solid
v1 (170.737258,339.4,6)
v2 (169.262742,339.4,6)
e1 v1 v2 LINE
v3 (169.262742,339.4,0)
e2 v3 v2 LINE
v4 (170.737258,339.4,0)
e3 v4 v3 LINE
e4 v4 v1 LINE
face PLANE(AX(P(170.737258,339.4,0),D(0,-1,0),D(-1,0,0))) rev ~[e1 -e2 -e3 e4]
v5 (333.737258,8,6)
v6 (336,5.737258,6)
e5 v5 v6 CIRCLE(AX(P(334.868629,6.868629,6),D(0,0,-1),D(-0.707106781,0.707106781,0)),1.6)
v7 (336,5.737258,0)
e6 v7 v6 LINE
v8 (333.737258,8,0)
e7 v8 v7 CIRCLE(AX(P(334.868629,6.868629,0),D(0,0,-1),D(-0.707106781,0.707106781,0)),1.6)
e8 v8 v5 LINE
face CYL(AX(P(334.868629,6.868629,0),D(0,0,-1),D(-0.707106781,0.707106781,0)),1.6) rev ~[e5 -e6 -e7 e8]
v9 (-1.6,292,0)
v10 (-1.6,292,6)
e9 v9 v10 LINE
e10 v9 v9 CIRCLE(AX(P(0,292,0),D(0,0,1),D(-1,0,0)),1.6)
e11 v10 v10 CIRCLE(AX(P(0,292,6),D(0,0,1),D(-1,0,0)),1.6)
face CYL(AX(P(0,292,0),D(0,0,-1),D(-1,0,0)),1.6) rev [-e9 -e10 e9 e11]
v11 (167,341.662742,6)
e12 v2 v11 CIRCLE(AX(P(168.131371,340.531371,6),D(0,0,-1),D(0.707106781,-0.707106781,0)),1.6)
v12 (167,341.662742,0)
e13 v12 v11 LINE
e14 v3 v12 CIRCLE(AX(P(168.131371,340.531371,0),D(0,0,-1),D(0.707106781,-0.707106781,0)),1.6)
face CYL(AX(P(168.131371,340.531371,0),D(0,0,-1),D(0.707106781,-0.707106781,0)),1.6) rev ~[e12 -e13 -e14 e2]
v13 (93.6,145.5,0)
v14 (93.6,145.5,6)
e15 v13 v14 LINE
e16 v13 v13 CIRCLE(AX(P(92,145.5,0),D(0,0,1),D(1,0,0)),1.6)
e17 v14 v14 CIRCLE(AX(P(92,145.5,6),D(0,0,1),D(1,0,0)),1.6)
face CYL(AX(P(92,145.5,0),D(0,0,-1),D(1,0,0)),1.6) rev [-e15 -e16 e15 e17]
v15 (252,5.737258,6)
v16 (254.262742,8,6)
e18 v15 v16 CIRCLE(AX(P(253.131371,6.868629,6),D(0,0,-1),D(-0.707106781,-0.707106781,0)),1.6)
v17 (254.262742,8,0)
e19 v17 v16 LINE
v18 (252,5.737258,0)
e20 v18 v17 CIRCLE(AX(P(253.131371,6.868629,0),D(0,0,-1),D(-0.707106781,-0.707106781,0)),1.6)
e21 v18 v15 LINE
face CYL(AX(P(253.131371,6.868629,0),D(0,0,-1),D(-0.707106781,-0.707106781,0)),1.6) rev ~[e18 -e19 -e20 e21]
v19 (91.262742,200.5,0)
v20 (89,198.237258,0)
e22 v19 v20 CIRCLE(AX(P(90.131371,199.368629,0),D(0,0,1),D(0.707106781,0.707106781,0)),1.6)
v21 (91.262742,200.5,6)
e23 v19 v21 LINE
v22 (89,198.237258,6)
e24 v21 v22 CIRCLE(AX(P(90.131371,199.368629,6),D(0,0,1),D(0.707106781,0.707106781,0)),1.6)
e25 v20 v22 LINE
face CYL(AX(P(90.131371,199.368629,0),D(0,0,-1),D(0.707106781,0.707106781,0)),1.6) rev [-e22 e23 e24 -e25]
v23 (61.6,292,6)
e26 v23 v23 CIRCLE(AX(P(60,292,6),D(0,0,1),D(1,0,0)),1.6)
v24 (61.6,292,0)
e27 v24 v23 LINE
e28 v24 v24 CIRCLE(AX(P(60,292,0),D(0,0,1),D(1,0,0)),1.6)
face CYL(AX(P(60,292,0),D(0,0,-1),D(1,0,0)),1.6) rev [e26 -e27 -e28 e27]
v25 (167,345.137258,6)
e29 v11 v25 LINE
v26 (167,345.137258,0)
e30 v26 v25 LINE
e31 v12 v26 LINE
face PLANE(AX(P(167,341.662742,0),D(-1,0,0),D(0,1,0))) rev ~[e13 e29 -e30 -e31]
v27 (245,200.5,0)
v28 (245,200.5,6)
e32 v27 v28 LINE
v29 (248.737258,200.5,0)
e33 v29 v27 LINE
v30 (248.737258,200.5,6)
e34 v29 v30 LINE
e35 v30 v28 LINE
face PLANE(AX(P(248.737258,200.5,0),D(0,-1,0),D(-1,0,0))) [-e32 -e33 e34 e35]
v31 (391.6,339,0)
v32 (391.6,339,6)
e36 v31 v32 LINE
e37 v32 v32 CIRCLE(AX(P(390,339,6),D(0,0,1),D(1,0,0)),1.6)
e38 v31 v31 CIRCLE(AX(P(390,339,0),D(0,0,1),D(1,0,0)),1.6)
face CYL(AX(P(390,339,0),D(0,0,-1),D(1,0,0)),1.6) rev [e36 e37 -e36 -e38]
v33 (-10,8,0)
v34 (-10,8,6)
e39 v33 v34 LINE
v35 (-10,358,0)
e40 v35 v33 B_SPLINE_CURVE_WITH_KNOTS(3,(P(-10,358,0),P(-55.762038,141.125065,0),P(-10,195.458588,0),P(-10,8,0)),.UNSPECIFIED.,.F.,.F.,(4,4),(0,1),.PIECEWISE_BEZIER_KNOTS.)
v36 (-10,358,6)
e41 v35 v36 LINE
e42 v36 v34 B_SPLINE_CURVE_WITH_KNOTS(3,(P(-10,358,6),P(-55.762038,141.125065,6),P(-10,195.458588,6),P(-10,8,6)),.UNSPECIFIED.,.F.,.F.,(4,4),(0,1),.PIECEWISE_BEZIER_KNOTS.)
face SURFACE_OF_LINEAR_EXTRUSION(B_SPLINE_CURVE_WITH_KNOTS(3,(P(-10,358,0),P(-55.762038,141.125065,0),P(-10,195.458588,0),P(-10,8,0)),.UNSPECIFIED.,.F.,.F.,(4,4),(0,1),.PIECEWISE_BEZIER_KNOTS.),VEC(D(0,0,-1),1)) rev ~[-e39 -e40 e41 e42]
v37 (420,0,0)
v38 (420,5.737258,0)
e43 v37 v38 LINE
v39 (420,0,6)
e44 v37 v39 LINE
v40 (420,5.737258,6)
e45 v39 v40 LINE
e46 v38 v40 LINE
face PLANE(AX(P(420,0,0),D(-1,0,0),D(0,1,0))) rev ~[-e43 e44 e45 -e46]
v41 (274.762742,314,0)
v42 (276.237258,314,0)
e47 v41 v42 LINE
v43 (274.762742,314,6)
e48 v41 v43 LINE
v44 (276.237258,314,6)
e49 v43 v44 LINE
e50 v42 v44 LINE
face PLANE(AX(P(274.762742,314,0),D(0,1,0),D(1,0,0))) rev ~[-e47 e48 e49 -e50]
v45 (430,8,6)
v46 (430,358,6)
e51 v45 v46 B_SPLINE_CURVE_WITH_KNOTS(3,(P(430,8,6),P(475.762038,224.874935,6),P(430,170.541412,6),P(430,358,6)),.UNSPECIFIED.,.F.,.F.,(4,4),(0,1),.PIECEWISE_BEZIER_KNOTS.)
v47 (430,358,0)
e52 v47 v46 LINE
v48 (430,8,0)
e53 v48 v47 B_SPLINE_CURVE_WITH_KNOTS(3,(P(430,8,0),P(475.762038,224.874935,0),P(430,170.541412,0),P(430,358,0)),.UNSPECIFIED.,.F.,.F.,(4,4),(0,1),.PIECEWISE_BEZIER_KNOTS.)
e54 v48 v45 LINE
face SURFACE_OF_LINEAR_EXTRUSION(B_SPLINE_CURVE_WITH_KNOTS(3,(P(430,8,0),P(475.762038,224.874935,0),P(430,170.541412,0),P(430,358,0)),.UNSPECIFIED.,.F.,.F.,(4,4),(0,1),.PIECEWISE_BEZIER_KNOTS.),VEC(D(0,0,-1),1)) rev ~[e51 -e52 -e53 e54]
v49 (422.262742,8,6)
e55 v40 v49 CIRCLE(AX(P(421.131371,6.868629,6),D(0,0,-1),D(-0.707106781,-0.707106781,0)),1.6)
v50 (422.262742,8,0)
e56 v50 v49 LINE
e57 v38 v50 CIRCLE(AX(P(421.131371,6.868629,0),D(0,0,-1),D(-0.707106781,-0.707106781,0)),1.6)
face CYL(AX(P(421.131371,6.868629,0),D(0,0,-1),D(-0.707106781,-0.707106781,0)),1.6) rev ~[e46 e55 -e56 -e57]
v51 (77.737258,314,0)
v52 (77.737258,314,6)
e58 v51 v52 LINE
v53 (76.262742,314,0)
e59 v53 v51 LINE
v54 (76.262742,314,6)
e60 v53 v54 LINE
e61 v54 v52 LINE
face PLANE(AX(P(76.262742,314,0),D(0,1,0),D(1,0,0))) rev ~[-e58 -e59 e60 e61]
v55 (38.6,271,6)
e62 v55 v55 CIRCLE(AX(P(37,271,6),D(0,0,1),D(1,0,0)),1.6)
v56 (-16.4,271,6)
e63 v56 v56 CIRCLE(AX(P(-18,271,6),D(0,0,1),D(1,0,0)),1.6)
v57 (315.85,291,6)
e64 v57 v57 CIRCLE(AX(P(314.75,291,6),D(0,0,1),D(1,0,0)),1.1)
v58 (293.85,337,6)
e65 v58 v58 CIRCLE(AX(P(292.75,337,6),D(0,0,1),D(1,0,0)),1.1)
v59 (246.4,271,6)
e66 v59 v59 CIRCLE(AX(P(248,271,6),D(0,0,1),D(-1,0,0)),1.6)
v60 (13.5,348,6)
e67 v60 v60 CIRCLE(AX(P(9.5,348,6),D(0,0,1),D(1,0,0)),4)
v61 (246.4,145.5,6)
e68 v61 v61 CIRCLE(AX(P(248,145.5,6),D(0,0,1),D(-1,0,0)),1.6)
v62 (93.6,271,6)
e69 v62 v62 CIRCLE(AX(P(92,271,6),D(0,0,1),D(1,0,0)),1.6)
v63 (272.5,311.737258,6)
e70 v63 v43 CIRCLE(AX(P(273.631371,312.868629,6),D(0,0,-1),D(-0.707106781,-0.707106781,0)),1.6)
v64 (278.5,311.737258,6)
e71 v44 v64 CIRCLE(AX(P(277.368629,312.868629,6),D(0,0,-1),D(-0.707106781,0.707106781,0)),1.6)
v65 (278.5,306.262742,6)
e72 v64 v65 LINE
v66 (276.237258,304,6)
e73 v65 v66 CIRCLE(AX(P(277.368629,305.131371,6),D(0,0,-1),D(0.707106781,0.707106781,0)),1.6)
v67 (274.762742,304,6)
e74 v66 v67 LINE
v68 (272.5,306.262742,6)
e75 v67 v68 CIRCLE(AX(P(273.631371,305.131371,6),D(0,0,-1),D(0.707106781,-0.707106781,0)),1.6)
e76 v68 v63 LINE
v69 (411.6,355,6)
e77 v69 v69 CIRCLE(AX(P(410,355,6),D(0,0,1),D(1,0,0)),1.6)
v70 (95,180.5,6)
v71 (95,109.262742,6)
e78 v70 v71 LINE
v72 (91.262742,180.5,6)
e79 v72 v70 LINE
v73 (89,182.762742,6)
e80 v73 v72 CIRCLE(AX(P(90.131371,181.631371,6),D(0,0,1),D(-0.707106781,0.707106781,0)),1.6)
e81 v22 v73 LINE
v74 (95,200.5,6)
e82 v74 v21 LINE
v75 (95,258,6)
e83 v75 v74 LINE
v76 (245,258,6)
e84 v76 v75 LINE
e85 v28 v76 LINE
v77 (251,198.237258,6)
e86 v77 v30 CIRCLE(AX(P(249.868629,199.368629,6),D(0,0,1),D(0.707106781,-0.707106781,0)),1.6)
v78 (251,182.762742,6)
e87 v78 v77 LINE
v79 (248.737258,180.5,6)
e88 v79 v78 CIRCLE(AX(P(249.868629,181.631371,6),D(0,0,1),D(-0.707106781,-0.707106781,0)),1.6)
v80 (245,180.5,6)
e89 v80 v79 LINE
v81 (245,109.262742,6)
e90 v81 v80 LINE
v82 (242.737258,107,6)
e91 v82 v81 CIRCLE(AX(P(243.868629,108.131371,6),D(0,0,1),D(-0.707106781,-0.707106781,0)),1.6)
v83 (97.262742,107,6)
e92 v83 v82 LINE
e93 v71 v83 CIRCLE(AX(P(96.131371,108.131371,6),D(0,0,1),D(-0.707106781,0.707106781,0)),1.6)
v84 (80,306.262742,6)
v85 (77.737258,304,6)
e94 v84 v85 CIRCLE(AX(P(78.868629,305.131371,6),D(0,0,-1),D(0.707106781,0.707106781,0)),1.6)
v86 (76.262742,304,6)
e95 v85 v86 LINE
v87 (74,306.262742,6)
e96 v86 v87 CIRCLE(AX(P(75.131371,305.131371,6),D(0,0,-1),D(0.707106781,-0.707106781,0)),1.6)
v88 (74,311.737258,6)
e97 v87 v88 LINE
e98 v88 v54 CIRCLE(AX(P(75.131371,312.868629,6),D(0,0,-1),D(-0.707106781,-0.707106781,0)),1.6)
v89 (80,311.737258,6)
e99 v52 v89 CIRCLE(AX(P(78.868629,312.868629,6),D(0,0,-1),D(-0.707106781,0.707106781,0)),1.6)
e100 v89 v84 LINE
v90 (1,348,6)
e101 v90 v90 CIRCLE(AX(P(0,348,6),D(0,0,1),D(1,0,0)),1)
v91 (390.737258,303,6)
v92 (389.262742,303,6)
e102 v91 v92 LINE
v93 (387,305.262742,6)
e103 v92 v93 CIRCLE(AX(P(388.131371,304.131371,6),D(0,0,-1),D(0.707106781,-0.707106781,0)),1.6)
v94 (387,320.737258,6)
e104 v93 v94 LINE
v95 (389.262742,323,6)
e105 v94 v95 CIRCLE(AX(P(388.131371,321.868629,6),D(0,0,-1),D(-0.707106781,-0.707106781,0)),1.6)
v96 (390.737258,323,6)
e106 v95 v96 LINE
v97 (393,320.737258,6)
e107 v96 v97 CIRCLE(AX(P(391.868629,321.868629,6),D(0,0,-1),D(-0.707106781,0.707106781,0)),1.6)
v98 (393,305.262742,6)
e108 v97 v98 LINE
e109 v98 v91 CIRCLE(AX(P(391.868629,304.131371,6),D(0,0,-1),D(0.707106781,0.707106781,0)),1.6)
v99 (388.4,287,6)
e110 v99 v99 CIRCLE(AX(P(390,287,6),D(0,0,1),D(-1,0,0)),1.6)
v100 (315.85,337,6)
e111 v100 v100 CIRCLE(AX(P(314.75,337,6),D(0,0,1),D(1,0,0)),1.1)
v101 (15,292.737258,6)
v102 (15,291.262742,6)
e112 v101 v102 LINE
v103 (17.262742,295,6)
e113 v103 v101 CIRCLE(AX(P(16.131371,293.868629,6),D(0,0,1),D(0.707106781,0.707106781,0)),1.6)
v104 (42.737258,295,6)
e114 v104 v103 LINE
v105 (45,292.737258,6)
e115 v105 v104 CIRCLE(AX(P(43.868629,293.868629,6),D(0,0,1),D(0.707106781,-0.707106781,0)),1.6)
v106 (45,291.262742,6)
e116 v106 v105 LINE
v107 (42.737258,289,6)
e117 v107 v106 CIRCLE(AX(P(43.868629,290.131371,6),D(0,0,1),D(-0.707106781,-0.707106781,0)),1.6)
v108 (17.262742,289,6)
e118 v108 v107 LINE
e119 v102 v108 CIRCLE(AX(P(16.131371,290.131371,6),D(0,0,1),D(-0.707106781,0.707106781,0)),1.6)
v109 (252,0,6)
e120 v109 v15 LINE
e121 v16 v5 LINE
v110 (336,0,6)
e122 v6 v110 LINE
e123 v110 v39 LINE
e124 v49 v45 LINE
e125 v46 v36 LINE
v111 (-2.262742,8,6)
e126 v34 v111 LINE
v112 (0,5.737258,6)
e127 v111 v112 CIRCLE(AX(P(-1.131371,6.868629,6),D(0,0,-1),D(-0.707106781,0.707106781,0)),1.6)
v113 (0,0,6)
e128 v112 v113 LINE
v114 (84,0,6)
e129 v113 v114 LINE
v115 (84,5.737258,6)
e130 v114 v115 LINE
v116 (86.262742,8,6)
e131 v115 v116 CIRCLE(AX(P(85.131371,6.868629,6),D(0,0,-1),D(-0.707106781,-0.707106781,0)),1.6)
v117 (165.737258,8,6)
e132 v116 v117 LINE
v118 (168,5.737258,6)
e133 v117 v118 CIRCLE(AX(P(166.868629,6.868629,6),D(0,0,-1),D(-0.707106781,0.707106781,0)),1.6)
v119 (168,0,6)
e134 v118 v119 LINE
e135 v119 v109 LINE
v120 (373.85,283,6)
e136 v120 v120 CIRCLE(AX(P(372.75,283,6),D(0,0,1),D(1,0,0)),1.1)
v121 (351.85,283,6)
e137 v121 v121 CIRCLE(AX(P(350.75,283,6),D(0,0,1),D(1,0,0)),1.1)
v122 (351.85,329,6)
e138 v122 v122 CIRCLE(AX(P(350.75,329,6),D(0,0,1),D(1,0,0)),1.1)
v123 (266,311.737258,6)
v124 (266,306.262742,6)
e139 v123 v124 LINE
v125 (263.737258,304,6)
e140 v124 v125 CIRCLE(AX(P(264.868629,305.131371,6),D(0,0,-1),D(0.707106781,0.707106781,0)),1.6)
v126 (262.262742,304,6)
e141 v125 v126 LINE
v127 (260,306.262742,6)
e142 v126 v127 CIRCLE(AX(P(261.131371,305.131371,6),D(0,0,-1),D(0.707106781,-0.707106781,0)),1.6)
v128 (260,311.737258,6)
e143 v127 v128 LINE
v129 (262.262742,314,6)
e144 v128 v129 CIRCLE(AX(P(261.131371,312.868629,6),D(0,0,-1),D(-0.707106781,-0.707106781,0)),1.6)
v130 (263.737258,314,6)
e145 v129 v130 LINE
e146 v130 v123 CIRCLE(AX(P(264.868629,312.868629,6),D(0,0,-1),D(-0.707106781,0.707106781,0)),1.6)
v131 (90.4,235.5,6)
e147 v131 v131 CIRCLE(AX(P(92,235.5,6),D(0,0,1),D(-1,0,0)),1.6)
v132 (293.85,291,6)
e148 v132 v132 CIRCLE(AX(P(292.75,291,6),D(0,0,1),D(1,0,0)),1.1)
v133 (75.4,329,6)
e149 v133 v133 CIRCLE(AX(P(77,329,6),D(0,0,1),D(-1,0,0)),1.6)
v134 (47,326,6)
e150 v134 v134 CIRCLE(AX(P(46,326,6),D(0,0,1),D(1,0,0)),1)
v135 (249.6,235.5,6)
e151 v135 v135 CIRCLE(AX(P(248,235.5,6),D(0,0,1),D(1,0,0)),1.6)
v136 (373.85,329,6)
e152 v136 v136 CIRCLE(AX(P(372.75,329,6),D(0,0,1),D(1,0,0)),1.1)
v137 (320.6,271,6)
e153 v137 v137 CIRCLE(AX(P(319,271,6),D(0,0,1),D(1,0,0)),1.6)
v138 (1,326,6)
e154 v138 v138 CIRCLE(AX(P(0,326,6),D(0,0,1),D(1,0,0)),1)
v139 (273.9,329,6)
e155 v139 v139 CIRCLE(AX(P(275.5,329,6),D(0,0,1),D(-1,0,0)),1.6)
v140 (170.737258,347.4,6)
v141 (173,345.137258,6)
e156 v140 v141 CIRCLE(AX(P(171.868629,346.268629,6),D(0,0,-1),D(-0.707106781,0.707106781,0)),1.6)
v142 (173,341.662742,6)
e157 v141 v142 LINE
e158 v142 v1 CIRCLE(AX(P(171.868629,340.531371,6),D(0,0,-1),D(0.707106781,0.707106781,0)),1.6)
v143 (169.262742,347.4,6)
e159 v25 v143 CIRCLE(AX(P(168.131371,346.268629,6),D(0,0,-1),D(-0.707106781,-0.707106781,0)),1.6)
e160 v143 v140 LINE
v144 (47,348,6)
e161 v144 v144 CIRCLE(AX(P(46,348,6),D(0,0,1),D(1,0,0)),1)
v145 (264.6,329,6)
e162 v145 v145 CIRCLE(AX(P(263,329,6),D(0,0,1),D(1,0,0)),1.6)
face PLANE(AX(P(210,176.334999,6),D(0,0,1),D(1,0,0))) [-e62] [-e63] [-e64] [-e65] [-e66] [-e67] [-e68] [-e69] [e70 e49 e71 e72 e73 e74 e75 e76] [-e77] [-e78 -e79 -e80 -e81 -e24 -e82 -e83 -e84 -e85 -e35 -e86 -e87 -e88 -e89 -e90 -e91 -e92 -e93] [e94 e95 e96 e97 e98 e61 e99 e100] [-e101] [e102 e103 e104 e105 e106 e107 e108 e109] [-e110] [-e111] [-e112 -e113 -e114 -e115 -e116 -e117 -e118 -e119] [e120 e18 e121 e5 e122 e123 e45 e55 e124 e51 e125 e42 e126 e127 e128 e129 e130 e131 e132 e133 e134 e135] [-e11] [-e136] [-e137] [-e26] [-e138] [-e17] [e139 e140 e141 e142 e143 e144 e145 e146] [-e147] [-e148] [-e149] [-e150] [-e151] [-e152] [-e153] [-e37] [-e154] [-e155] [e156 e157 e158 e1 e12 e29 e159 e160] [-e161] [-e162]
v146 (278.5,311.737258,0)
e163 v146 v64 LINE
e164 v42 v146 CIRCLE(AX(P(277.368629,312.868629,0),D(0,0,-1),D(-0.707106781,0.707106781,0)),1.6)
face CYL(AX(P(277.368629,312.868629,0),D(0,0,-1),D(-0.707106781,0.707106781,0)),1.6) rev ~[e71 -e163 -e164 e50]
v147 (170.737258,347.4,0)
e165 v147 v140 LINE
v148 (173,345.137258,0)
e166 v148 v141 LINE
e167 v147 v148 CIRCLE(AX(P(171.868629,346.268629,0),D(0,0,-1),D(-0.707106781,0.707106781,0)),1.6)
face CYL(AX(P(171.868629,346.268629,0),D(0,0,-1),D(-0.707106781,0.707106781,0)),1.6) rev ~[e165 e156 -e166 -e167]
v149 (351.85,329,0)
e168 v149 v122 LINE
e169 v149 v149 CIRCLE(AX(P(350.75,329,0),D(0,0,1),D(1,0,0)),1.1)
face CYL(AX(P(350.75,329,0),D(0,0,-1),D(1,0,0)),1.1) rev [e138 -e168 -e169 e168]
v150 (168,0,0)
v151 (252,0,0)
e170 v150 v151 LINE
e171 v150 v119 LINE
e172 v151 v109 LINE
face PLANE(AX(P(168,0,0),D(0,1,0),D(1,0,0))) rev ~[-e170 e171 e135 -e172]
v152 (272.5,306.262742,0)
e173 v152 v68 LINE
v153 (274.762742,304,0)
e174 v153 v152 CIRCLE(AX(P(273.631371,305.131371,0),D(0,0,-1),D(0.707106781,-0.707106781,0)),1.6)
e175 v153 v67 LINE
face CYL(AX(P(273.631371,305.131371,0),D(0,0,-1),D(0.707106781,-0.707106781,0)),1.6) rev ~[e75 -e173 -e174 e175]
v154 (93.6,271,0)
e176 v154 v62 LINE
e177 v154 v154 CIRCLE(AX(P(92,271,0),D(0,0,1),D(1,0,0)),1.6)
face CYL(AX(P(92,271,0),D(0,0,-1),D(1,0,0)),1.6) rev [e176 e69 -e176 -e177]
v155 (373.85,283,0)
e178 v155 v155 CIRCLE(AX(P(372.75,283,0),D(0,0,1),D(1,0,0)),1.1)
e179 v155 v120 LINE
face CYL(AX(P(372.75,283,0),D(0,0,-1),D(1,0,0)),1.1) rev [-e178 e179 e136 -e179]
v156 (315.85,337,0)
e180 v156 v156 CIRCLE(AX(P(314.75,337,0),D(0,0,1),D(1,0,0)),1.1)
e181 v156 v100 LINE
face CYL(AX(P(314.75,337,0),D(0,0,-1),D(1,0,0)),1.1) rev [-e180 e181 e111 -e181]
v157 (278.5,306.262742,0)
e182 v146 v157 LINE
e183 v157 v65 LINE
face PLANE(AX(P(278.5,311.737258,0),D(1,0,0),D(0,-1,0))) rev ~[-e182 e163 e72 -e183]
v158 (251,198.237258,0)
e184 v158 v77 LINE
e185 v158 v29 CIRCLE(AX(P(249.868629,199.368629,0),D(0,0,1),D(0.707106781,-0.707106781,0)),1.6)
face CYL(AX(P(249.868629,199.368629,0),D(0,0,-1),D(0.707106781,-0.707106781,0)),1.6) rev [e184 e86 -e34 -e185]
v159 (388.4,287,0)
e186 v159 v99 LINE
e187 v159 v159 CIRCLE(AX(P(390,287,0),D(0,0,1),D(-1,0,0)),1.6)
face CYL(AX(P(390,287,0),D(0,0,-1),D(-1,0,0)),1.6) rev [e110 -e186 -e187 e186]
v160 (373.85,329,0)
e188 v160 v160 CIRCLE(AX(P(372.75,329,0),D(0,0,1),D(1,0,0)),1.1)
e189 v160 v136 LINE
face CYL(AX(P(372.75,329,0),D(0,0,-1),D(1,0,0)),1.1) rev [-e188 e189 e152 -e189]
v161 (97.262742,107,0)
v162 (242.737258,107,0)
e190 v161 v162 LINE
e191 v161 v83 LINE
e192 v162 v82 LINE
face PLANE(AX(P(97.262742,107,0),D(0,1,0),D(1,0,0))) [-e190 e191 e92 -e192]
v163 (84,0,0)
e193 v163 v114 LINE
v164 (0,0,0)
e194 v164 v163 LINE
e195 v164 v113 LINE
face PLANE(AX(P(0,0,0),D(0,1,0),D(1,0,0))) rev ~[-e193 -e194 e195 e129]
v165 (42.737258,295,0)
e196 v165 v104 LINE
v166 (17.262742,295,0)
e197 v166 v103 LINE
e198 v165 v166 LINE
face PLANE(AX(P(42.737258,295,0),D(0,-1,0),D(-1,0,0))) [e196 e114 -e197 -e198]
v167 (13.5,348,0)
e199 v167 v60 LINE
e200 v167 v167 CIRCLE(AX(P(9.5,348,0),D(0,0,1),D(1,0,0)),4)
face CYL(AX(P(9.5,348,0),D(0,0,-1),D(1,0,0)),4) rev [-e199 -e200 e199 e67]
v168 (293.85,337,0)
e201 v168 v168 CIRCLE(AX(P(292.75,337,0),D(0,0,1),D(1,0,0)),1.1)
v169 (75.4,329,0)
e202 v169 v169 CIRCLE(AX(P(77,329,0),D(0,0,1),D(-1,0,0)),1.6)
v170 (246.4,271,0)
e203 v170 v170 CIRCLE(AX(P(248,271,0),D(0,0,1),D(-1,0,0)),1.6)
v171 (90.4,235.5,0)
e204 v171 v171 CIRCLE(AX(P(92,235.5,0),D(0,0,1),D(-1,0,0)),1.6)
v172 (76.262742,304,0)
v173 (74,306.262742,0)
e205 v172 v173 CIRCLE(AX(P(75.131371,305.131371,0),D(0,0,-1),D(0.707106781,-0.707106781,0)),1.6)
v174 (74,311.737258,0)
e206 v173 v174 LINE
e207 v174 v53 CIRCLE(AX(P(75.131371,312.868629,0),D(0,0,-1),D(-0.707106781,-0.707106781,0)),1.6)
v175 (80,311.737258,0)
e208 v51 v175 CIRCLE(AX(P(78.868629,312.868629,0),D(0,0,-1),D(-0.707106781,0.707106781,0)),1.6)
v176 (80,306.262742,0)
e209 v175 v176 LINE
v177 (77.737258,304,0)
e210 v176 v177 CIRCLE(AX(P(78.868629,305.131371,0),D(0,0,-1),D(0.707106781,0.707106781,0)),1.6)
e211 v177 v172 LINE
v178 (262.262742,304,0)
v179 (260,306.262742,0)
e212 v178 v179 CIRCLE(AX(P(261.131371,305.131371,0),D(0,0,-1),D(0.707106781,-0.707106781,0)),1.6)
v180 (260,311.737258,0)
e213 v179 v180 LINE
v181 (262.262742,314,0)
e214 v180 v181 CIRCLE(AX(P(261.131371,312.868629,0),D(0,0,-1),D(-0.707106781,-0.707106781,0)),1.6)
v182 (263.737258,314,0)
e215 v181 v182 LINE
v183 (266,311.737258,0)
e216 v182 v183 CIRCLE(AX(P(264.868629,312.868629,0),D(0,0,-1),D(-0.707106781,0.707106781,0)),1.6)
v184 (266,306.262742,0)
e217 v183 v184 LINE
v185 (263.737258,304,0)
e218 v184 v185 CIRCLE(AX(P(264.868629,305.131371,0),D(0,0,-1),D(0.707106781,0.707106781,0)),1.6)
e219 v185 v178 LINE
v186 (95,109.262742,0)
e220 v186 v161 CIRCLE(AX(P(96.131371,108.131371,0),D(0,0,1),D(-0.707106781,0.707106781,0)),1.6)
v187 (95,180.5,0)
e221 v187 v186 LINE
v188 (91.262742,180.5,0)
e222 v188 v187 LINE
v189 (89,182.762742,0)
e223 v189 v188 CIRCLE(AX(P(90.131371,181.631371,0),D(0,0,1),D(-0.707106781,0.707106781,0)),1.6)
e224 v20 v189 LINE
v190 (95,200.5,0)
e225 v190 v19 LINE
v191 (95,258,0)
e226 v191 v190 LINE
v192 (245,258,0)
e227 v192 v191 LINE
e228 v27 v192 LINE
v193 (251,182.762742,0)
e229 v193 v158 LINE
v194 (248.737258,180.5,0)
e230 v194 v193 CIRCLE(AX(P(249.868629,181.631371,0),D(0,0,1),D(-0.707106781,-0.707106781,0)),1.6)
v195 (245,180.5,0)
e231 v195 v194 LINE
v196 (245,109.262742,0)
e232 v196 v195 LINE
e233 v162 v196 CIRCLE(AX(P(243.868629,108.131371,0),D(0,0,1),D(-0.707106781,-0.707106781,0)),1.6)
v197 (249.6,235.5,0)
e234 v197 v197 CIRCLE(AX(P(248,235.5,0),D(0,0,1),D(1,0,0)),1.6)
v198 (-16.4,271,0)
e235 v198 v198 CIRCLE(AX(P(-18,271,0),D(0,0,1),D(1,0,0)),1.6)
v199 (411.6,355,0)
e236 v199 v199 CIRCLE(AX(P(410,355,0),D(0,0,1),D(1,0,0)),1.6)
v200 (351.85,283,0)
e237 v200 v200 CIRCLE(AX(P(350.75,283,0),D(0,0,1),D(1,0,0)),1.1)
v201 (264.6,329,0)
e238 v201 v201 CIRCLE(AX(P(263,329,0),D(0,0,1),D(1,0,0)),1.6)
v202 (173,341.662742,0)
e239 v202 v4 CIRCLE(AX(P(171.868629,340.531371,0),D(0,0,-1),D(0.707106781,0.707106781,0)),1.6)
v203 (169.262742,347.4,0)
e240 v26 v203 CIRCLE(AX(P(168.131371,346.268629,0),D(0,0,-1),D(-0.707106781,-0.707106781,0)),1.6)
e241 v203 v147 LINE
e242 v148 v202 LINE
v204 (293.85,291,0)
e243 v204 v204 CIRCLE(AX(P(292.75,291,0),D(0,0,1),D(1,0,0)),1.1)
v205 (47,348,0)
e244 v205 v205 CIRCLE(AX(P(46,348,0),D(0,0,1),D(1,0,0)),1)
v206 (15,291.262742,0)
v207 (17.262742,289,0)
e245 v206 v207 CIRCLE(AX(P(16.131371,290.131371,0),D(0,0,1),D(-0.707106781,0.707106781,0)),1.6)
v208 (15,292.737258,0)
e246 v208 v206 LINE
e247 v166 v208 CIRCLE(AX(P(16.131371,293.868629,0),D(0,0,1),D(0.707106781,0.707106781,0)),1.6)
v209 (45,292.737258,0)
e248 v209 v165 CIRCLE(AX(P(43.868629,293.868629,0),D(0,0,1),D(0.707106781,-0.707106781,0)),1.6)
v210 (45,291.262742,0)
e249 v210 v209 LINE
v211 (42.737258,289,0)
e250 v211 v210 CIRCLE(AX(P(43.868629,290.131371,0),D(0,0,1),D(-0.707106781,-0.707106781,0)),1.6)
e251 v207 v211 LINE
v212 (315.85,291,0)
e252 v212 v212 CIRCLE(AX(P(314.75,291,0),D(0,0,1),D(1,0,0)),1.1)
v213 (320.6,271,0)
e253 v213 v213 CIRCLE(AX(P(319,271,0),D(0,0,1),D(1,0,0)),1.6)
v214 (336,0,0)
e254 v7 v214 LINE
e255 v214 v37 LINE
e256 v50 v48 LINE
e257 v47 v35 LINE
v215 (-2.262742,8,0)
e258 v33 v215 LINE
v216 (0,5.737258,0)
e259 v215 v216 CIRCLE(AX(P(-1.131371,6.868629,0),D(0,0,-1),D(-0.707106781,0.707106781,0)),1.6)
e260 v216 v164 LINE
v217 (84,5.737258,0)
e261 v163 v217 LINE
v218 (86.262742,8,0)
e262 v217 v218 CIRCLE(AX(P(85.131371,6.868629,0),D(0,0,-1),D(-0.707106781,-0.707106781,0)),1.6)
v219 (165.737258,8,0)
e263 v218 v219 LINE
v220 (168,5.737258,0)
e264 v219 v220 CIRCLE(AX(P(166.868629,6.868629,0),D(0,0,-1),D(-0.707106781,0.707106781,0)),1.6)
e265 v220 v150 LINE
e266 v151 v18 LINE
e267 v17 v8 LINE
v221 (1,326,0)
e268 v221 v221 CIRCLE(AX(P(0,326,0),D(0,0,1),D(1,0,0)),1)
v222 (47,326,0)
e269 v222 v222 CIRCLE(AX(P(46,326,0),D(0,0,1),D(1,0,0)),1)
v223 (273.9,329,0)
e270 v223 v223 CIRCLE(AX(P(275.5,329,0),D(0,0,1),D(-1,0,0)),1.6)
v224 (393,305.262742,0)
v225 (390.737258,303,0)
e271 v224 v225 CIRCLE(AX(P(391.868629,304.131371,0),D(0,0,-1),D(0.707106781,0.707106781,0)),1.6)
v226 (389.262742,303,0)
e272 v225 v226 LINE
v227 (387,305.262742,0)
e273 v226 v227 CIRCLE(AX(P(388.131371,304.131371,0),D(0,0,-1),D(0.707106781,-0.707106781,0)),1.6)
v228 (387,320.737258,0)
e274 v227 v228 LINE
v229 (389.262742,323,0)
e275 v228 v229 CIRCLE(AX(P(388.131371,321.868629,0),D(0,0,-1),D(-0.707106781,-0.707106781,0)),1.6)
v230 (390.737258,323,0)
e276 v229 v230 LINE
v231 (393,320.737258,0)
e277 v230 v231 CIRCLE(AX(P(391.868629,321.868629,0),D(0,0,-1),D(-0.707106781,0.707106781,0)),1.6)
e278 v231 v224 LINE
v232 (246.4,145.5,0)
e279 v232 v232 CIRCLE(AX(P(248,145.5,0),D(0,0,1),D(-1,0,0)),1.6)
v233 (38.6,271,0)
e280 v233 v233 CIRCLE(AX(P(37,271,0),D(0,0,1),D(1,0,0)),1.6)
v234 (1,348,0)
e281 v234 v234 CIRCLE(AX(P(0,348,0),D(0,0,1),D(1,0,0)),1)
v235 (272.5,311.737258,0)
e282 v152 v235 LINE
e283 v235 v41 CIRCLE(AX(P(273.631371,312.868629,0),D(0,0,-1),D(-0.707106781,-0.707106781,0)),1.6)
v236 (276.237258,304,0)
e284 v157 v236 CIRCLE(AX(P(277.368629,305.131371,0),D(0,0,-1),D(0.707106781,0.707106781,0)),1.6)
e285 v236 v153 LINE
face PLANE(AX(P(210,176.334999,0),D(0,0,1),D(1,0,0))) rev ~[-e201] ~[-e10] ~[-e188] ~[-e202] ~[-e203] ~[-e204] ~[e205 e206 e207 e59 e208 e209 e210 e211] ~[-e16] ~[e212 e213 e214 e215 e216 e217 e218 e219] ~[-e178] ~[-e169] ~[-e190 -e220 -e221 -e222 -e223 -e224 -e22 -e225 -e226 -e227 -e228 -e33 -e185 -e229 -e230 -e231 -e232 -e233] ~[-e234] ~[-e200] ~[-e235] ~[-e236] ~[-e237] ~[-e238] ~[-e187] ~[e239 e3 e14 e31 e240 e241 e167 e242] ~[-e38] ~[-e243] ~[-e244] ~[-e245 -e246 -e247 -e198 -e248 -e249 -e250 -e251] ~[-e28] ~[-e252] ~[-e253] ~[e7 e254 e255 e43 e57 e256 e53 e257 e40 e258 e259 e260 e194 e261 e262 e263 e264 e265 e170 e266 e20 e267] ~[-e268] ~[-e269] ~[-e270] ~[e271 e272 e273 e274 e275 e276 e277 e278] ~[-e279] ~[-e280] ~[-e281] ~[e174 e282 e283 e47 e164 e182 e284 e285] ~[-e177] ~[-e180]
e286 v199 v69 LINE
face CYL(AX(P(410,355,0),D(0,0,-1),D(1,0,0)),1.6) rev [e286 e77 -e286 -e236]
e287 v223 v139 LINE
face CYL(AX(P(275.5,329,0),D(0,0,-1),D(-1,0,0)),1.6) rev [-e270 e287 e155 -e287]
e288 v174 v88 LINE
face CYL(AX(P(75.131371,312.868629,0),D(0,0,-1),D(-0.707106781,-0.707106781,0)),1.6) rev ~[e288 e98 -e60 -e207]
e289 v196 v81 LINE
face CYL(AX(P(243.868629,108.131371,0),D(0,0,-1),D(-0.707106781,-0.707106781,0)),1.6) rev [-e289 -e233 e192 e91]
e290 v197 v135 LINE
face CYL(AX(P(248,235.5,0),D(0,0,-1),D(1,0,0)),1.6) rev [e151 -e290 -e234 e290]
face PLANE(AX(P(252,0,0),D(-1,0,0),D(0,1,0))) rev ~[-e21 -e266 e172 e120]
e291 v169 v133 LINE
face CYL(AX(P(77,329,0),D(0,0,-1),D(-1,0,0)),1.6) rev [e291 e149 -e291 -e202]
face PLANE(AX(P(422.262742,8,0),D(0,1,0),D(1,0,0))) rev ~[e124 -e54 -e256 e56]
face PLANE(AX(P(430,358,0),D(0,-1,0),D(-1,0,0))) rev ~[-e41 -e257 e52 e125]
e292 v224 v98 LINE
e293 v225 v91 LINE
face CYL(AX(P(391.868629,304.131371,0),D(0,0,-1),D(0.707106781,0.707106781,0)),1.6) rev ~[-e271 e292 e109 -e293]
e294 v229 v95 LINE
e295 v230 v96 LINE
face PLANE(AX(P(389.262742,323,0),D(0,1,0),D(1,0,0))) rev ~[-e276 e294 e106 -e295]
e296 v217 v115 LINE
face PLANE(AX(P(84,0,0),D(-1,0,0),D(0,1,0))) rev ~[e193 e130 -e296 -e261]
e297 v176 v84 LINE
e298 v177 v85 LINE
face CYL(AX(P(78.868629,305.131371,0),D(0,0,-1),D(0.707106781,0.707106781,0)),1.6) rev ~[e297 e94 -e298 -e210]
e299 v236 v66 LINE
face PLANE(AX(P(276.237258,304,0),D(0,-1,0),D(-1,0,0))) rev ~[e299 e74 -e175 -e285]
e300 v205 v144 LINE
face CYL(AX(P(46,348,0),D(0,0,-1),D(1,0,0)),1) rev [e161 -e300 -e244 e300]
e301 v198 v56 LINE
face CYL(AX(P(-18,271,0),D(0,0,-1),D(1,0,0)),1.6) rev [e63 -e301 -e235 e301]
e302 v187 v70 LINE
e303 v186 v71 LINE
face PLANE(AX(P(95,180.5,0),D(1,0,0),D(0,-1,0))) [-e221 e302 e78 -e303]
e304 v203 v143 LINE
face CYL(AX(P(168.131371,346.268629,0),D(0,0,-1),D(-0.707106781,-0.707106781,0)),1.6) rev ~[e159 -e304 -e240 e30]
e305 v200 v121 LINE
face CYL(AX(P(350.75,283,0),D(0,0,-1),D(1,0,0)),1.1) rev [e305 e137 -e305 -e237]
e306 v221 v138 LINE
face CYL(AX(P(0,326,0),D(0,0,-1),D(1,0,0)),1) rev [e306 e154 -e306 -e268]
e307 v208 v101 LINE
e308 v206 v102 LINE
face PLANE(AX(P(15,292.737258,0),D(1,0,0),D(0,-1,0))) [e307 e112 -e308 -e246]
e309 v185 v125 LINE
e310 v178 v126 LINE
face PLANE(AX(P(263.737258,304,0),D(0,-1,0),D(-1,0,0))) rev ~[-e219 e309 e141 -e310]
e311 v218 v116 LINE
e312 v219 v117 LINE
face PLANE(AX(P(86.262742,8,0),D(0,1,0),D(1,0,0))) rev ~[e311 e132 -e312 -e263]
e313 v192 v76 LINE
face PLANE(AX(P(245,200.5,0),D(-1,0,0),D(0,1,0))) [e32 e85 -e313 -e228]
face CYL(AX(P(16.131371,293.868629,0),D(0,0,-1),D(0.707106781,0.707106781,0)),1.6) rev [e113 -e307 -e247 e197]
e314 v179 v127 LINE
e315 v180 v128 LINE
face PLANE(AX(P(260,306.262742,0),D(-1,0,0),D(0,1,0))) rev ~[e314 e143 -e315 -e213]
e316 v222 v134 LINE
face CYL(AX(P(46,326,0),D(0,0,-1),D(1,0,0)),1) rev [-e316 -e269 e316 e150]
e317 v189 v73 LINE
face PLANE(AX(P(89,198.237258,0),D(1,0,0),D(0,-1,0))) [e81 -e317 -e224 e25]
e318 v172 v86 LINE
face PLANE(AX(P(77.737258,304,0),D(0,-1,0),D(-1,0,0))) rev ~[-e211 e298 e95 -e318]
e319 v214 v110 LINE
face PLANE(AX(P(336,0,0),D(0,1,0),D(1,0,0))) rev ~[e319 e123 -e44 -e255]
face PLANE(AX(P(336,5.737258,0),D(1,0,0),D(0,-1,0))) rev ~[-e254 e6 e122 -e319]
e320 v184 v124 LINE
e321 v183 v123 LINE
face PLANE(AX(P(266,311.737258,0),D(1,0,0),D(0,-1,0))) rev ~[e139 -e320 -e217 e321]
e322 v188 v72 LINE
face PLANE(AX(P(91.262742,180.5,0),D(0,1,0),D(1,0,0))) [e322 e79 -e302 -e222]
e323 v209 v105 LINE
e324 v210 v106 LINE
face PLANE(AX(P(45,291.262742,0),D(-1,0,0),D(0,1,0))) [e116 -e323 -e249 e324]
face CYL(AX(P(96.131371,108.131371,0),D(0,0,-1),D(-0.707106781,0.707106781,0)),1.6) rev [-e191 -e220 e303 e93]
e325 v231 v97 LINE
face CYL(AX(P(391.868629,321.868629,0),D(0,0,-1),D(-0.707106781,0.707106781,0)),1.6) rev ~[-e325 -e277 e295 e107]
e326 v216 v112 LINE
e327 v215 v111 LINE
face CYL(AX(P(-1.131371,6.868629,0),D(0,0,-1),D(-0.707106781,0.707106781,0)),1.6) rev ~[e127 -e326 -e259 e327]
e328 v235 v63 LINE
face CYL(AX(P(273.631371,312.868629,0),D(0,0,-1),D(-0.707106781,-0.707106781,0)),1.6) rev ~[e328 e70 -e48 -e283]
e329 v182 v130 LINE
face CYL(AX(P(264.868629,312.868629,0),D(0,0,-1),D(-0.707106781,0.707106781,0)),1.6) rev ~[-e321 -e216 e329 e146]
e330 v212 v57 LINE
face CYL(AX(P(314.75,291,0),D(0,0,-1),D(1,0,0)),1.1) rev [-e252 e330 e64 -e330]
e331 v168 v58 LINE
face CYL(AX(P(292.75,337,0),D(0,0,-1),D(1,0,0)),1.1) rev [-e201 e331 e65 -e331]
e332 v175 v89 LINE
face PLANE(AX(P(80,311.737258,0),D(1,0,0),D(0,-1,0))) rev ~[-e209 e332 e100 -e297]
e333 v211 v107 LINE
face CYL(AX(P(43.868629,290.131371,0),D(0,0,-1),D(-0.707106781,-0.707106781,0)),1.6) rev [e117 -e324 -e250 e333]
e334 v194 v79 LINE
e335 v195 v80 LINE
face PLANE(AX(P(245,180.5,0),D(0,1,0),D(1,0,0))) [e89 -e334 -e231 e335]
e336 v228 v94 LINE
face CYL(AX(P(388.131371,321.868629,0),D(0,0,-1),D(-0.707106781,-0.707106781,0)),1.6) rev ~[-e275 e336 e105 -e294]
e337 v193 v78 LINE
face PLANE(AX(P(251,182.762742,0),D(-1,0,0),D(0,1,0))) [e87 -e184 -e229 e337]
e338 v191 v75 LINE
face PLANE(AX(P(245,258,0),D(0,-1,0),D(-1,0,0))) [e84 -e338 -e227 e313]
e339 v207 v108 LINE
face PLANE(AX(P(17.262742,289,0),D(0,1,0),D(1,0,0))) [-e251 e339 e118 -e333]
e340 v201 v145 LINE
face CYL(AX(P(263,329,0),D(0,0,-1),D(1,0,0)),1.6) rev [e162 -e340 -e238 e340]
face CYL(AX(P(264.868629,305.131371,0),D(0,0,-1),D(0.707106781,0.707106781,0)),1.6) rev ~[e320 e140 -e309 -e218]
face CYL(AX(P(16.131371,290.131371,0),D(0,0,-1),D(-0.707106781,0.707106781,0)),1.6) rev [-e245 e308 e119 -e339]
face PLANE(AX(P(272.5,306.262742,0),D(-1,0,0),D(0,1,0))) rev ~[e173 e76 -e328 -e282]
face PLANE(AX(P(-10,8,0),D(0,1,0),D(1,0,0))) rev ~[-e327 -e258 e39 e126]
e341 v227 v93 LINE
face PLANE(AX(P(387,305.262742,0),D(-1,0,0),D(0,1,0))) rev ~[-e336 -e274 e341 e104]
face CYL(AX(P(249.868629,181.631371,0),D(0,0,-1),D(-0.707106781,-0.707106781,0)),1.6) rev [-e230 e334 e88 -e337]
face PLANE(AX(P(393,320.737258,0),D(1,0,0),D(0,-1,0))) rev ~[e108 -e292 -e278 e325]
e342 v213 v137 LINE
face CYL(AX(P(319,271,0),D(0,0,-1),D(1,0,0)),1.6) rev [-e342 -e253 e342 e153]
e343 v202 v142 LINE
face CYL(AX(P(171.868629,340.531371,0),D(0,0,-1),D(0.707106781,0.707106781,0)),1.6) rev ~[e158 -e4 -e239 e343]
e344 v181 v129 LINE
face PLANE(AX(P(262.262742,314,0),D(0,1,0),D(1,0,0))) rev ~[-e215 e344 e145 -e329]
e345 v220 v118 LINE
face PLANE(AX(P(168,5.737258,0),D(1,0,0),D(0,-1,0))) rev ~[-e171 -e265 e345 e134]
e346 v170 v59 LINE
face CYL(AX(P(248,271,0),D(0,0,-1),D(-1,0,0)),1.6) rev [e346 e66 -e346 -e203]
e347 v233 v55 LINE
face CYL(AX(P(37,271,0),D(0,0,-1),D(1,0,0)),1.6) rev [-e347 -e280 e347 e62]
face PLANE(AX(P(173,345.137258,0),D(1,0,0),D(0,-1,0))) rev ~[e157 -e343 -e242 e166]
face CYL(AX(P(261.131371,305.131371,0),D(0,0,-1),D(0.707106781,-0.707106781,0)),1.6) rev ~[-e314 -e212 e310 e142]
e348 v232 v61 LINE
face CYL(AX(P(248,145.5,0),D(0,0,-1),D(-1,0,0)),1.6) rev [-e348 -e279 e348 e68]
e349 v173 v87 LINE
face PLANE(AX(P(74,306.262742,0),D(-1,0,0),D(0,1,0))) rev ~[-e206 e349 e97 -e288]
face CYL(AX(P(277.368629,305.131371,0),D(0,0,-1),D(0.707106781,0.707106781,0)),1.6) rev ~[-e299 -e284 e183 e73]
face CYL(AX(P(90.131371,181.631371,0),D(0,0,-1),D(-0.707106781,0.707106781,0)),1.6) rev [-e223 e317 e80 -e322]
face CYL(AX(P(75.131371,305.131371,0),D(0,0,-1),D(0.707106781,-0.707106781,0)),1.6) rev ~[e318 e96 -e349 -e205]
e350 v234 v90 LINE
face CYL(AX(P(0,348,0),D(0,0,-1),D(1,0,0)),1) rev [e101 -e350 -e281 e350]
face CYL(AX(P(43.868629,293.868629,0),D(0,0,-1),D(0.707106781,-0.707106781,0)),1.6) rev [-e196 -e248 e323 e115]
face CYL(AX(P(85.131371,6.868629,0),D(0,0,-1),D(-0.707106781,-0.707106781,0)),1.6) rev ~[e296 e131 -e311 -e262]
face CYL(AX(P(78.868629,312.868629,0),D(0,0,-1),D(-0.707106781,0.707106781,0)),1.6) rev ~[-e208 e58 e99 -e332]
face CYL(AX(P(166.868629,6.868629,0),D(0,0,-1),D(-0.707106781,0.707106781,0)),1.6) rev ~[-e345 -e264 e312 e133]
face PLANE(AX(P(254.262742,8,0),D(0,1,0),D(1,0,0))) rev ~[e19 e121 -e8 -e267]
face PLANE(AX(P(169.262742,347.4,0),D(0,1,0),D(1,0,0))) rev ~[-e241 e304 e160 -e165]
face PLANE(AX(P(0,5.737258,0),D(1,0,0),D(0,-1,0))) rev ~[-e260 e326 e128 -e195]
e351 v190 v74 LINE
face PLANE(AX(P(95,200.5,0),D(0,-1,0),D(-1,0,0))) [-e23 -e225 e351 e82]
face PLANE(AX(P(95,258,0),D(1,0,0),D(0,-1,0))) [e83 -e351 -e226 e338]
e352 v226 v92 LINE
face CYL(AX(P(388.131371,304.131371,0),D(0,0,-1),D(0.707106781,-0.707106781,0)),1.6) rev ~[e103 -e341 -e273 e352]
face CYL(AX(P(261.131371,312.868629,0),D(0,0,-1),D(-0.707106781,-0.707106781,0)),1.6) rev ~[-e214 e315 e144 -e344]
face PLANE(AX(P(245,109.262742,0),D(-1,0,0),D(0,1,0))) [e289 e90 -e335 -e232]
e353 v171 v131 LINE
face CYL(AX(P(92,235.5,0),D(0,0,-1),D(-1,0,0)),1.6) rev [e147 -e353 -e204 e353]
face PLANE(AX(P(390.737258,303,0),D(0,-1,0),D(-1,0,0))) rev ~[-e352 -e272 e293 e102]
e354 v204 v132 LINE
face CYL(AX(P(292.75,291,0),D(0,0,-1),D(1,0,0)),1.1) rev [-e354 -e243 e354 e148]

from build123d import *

# Parameters (mm, degrees)
ESQUISSE1_R        = 1.6
ESQUISSE1_R_2      = 1.1
ESQUISSE1_R_3      = 4
ESQUISSE1_R_4      = 1
BOSS_EXTRU_1_DEPTH = 6


with BuildPart() as part:
    # Esquisse1 → Boss.-Extru.1 (new body)
    with BuildSketch(Plane.XY):
        with BuildLine():
            Line((0, 0), (84, 0))
            Line((84, 0), (84, 5.7372583))
            ThreePointArc((84, 5.7372583), (84, 8), (86.2627417, 8))
            Line((86.2627417, 8), (165.7372583, 8))
            ThreePointArc((165.7372583, 8), (168, 8), (168, 5.7372583))
            Line((168, 5.7372583), (168, 0))
            Line((168, 0), (252, 0))
            Line((252, 0), (252, 5.7372583))
            ThreePointArc((252, 5.7372583), (252, 8), (254.2627417, 8))
            Line((254.2627417, 8), (333.7372583, 8))
            ThreePointArc((333.7372583, 8), (336, 8), (336, 5.7372583))
            Line((336, 5.7372583), (336, 0))
            Line((336, 0), (420, 0))
            Line((420, 0), (420, 5.7372583))
            ThreePointArc((420, 5.7372583), (420, 8), (422.2627417, 8))
            Line((422.2627417, 8), (430, 8))
            add(Edge.make_bspline(
                [(430, 8), (475.762038199, 224.87493493), (430, 170.541411889), (430, 358)],
                knots=[0, 0, 0, 0, 1, 1, 1, 1], degree=3))
            Line((430, 358), (-10, 358))
            add(Edge.make_bspline(
                [(-10, 358), (-55.762038199, 141.12506507), (-10, 195.458588109), (-10, 8)],
                knots=[0, 0, 0, 0, 1, 1, 1, 1], degree=3))
            Line((-10, 8), (-2.2627417, 8))
            ThreePointArc((-2.2627417, 8), (0, 8), (0, 5.7372583))
            Line((0, 5.7372583), (0, 0))
        make_face()
        with Locations((92, 271)):
            Circle(ESQUISSE1_R, mode=Mode.SUBTRACT)
        with Locations(Location((248, 271, 0), (0, 0, 180))):  # turned: the seam where the file's is
            Circle(ESQUISSE1_R, mode=Mode.SUBTRACT)
        with Locations((92, 145.5)):
            Circle(ESQUISSE1_R, mode=Mode.SUBTRACT)
        with Locations(Location((92, 235.5, 0), (0, 0, 180))):  # turned: the seam where the file's is
            Circle(ESQUISSE1_R, mode=Mode.SUBTRACT)
        with Locations((372.75, 329)):
            Circle(ESQUISSE1_R_2, mode=Mode.SUBTRACT)
        with Locations((350.75, 329)):
            Circle(ESQUISSE1_R_2, mode=Mode.SUBTRACT)
        with Locations((248, 235.5)):
            Circle(ESQUISSE1_R, mode=Mode.SUBTRACT)
        with Locations(Location((248, 145.5, 0), (0, 0, 180))):  # turned: the seam where the file's is
            Circle(ESQUISSE1_R, mode=Mode.SUBTRACT)
        with Locations((350.75, 283)):
            Circle(ESQUISSE1_R_2, mode=Mode.SUBTRACT)
        with Locations((319, 271)):
            Circle(ESQUISSE1_R, mode=Mode.SUBTRACT)
        with Locations((-18, 271)):
            Circle(ESQUISSE1_R, mode=Mode.SUBTRACT)
        with Locations((37, 271)):
            Circle(ESQUISSE1_R, mode=Mode.SUBTRACT)
        with Locations((390, 339)):
            Circle(ESQUISSE1_R, mode=Mode.SUBTRACT)
        with Locations(Location((390, 287, 0), (0, 0, 180))):  # turned: the seam where the file's is
            Circle(ESQUISSE1_R, mode=Mode.SUBTRACT)
        with Locations((410, 355)):
            Circle(ESQUISSE1_R, mode=Mode.SUBTRACT)
        with Locations((9.5, 348)):
            Circle(ESQUISSE1_R_3, mode=Mode.SUBTRACT)
        with Locations((46, 348)):
            Circle(ESQUISSE1_R_4, mode=Mode.SUBTRACT)
        with Locations((0, 348)):
            Circle(ESQUISSE1_R_4, mode=Mode.SUBTRACT)
        with Locations((0, 326)):
            Circle(ESQUISSE1_R_4, mode=Mode.SUBTRACT)
        with Locations((46, 326)):
            Circle(ESQUISSE1_R_4, mode=Mode.SUBTRACT)
        with Locations((372.75, 283)):
            Circle(ESQUISSE1_R_2, mode=Mode.SUBTRACT)
        with Locations((314.75, 337)):
            Circle(ESQUISSE1_R_2, mode=Mode.SUBTRACT)
        with Locations((292.75, 337)):
            Circle(ESQUISSE1_R_2, mode=Mode.SUBTRACT)
        with Locations((292.75, 291)):
            Circle(ESQUISSE1_R_2, mode=Mode.SUBTRACT)
        with Locations((314.75, 291)):
            Circle(ESQUISSE1_R_2, mode=Mode.SUBTRACT)
        with Locations((263, 329)):
            Circle(ESQUISSE1_R, mode=Mode.SUBTRACT)
        with Locations(Location((77, 329, 0), (0, 0, 180))):  # turned: the seam where the file's is
            Circle(ESQUISSE1_R, mode=Mode.SUBTRACT)
        with Locations(Location((275.5, 329, 0), (0, 0, 180))):  # turned: the seam where the file's is
            Circle(ESQUISSE1_R, mode=Mode.SUBTRACT)
        with Locations((60, 292)):
            Circle(ESQUISSE1_R, mode=Mode.SUBTRACT)
        with Locations(Location((0, 292, 0), (0, 0, 180))):  # turned: the seam where the file's is
            Circle(ESQUISSE1_R, mode=Mode.SUBTRACT)
        with BuildLine():
            Line((91.2627417, 180.5), (95, 180.5))
            Line((95, 180.5), (95, 109.2627417))
            ThreePointArc((95, 109.2627417), (95, 107), (97.2627417, 107))
            Line((97.2627417, 107), (242.7372583, 107))
            ThreePointArc((242.7372583, 107), (245, 107), (245, 109.2627417))
            Line((245, 109.2627417), (245, 180.5))
            Line((245, 180.5), (248.7372583, 180.5))
            ThreePointArc((248.7372583, 180.5), (251, 180.5), (251, 182.7627417))
            Line((251, 182.7627417), (251, 198.2372583))
            ThreePointArc((251, 198.2372583), (251, 200.5), (248.7372583, 200.5))
            Line((248.7372583, 200.5), (245, 200.5))
            Line((245, 200.5), (245, 258))
            Line((245, 258), (95, 258))
            Line((95, 258), (95, 200.5))
            Line((95, 200.5), (91.2627417, 200.5))
            ThreePointArc((91.2627417, 200.5), (89, 200.5), (89, 198.2372583))
            Line((89, 198.2372583), (89, 182.7627417))
            ThreePointArc((89, 182.7627417), (89, 180.5), (91.2627417, 180.5))
        make_face(mode=Mode.SUBTRACT)
        with BuildLine():
            Line((389.2627417, 323), (390.7372583, 323))
            ThreePointArc((390.7372583, 323), (393, 323), (393, 320.7372583))
            Line((393, 320.7372583), (393, 305.2627417))
            ThreePointArc((393, 305.2627417), (393, 303), (390.7372583, 303))
            Line((390.7372583, 303), (389.2627417, 303))
            ThreePointArc((389.2627417, 303), (387, 303), (387, 305.2627417))
            Line((387, 305.2627417), (387, 320.7372583))
            ThreePointArc((387, 320.7372583), (387, 323), (389.2627417, 323))
        make_face(mode=Mode.SUBTRACT)
        with BuildLine():
            Line((262.2627417, 314), (263.7372583, 314))
            ThreePointArc((263.7372583, 314), (266, 314), (266, 311.7372583))
            Line((266, 311.7372583), (266, 306.2627417))
            ThreePointArc((266, 306.2627417), (266, 304), (263.7372583, 304))
            Line((263.7372583, 304), (262.2627417, 304))
            ThreePointArc((262.2627417, 304), (260, 304), (260, 306.2627417))
            Line((260, 306.2627417), (260, 311.7372583))
            ThreePointArc((260, 311.7372583), (260, 314), (262.2627417, 314))
        make_face(mode=Mode.SUBTRACT)
        with BuildLine():
            Line((74, 306.2627417), (74, 311.7372583))
            ThreePointArc((74, 311.7372583), (74, 314), (76.2627417, 314))
            Line((76.2627417, 314), (77.7372583, 314))
            ThreePointArc((77.7372583, 314), (80, 314), (80, 311.7372583))
            Line((80, 311.7372583), (80, 306.2627417))
            ThreePointArc((80, 306.2627417), (80, 304), (77.7372583, 304))
            Line((77.7372583, 304), (76.2627417, 304))
            ThreePointArc((76.2627417, 304), (74, 304), (74, 306.2627417))
        make_face(mode=Mode.SUBTRACT)
        with BuildLine():
            Line((272.5, 306.2627417), (272.5, 311.7372583))
            ThreePointArc((272.5, 311.7372583), (272.5, 314), (274.7627417, 314))
            Line((274.7627417, 314), (276.2372583, 314))
            ThreePointArc((276.2372583, 314), (278.5, 314), (278.5, 311.7372583))
            Line((278.5, 311.7372583), (278.5, 306.2627417))
            ThreePointArc((278.5, 306.2627417), (278.5, 304), (276.2372583, 304))
            Line((276.2372583, 304), (274.7627417, 304))
            ThreePointArc((274.7627417, 304), (272.5, 304), (272.5, 306.2627417))
        make_face(mode=Mode.SUBTRACT)
        with BuildLine():
            Line((15, 292.7372583), (15, 291.2627417))
            ThreePointArc((15, 291.2627417), (15, 289), (17.2627417, 289))
            Line((17.2627417, 289), (42.7372583, 289))
            ThreePointArc((42.7372583, 289), (45, 289), (45, 291.2627417))
            Line((45, 291.2627417), (45, 292.7372583))
            ThreePointArc((45, 292.7372583), (45, 295), (42.7372583, 295))
            Line((42.7372583, 295), (17.2627417, 295))
            ThreePointArc((17.2627417, 295), (15, 295), (15, 292.7372583))
        make_face(mode=Mode.SUBTRACT)
        with BuildLine():
            Line((170.7372583, 339.4), (169.2627417, 339.4))
            ThreePointArc((169.2627417, 339.4), (167, 339.4), (167, 341.6627417))
            Line((167, 341.6627417), (167, 345.1372583))
            ThreePointArc((167, 345.1372583), (167, 347.4), (169.2627417, 347.4))
            Line((169.2627417, 347.4), (170.7372583, 347.4))
            ThreePointArc((170.7372583, 347.4), (173, 347.4), (173, 345.1372583))
            Line((173, 345.1372583), (173, 341.6627417))
            ThreePointArc((173, 341.6627417), (173, 339.4), (170.7372583, 339.4))
        make_face(mode=Mode.SUBTRACT)
    extrude(amount=BOSS_EXTRU_1_DEPTH)


solid = part.part
